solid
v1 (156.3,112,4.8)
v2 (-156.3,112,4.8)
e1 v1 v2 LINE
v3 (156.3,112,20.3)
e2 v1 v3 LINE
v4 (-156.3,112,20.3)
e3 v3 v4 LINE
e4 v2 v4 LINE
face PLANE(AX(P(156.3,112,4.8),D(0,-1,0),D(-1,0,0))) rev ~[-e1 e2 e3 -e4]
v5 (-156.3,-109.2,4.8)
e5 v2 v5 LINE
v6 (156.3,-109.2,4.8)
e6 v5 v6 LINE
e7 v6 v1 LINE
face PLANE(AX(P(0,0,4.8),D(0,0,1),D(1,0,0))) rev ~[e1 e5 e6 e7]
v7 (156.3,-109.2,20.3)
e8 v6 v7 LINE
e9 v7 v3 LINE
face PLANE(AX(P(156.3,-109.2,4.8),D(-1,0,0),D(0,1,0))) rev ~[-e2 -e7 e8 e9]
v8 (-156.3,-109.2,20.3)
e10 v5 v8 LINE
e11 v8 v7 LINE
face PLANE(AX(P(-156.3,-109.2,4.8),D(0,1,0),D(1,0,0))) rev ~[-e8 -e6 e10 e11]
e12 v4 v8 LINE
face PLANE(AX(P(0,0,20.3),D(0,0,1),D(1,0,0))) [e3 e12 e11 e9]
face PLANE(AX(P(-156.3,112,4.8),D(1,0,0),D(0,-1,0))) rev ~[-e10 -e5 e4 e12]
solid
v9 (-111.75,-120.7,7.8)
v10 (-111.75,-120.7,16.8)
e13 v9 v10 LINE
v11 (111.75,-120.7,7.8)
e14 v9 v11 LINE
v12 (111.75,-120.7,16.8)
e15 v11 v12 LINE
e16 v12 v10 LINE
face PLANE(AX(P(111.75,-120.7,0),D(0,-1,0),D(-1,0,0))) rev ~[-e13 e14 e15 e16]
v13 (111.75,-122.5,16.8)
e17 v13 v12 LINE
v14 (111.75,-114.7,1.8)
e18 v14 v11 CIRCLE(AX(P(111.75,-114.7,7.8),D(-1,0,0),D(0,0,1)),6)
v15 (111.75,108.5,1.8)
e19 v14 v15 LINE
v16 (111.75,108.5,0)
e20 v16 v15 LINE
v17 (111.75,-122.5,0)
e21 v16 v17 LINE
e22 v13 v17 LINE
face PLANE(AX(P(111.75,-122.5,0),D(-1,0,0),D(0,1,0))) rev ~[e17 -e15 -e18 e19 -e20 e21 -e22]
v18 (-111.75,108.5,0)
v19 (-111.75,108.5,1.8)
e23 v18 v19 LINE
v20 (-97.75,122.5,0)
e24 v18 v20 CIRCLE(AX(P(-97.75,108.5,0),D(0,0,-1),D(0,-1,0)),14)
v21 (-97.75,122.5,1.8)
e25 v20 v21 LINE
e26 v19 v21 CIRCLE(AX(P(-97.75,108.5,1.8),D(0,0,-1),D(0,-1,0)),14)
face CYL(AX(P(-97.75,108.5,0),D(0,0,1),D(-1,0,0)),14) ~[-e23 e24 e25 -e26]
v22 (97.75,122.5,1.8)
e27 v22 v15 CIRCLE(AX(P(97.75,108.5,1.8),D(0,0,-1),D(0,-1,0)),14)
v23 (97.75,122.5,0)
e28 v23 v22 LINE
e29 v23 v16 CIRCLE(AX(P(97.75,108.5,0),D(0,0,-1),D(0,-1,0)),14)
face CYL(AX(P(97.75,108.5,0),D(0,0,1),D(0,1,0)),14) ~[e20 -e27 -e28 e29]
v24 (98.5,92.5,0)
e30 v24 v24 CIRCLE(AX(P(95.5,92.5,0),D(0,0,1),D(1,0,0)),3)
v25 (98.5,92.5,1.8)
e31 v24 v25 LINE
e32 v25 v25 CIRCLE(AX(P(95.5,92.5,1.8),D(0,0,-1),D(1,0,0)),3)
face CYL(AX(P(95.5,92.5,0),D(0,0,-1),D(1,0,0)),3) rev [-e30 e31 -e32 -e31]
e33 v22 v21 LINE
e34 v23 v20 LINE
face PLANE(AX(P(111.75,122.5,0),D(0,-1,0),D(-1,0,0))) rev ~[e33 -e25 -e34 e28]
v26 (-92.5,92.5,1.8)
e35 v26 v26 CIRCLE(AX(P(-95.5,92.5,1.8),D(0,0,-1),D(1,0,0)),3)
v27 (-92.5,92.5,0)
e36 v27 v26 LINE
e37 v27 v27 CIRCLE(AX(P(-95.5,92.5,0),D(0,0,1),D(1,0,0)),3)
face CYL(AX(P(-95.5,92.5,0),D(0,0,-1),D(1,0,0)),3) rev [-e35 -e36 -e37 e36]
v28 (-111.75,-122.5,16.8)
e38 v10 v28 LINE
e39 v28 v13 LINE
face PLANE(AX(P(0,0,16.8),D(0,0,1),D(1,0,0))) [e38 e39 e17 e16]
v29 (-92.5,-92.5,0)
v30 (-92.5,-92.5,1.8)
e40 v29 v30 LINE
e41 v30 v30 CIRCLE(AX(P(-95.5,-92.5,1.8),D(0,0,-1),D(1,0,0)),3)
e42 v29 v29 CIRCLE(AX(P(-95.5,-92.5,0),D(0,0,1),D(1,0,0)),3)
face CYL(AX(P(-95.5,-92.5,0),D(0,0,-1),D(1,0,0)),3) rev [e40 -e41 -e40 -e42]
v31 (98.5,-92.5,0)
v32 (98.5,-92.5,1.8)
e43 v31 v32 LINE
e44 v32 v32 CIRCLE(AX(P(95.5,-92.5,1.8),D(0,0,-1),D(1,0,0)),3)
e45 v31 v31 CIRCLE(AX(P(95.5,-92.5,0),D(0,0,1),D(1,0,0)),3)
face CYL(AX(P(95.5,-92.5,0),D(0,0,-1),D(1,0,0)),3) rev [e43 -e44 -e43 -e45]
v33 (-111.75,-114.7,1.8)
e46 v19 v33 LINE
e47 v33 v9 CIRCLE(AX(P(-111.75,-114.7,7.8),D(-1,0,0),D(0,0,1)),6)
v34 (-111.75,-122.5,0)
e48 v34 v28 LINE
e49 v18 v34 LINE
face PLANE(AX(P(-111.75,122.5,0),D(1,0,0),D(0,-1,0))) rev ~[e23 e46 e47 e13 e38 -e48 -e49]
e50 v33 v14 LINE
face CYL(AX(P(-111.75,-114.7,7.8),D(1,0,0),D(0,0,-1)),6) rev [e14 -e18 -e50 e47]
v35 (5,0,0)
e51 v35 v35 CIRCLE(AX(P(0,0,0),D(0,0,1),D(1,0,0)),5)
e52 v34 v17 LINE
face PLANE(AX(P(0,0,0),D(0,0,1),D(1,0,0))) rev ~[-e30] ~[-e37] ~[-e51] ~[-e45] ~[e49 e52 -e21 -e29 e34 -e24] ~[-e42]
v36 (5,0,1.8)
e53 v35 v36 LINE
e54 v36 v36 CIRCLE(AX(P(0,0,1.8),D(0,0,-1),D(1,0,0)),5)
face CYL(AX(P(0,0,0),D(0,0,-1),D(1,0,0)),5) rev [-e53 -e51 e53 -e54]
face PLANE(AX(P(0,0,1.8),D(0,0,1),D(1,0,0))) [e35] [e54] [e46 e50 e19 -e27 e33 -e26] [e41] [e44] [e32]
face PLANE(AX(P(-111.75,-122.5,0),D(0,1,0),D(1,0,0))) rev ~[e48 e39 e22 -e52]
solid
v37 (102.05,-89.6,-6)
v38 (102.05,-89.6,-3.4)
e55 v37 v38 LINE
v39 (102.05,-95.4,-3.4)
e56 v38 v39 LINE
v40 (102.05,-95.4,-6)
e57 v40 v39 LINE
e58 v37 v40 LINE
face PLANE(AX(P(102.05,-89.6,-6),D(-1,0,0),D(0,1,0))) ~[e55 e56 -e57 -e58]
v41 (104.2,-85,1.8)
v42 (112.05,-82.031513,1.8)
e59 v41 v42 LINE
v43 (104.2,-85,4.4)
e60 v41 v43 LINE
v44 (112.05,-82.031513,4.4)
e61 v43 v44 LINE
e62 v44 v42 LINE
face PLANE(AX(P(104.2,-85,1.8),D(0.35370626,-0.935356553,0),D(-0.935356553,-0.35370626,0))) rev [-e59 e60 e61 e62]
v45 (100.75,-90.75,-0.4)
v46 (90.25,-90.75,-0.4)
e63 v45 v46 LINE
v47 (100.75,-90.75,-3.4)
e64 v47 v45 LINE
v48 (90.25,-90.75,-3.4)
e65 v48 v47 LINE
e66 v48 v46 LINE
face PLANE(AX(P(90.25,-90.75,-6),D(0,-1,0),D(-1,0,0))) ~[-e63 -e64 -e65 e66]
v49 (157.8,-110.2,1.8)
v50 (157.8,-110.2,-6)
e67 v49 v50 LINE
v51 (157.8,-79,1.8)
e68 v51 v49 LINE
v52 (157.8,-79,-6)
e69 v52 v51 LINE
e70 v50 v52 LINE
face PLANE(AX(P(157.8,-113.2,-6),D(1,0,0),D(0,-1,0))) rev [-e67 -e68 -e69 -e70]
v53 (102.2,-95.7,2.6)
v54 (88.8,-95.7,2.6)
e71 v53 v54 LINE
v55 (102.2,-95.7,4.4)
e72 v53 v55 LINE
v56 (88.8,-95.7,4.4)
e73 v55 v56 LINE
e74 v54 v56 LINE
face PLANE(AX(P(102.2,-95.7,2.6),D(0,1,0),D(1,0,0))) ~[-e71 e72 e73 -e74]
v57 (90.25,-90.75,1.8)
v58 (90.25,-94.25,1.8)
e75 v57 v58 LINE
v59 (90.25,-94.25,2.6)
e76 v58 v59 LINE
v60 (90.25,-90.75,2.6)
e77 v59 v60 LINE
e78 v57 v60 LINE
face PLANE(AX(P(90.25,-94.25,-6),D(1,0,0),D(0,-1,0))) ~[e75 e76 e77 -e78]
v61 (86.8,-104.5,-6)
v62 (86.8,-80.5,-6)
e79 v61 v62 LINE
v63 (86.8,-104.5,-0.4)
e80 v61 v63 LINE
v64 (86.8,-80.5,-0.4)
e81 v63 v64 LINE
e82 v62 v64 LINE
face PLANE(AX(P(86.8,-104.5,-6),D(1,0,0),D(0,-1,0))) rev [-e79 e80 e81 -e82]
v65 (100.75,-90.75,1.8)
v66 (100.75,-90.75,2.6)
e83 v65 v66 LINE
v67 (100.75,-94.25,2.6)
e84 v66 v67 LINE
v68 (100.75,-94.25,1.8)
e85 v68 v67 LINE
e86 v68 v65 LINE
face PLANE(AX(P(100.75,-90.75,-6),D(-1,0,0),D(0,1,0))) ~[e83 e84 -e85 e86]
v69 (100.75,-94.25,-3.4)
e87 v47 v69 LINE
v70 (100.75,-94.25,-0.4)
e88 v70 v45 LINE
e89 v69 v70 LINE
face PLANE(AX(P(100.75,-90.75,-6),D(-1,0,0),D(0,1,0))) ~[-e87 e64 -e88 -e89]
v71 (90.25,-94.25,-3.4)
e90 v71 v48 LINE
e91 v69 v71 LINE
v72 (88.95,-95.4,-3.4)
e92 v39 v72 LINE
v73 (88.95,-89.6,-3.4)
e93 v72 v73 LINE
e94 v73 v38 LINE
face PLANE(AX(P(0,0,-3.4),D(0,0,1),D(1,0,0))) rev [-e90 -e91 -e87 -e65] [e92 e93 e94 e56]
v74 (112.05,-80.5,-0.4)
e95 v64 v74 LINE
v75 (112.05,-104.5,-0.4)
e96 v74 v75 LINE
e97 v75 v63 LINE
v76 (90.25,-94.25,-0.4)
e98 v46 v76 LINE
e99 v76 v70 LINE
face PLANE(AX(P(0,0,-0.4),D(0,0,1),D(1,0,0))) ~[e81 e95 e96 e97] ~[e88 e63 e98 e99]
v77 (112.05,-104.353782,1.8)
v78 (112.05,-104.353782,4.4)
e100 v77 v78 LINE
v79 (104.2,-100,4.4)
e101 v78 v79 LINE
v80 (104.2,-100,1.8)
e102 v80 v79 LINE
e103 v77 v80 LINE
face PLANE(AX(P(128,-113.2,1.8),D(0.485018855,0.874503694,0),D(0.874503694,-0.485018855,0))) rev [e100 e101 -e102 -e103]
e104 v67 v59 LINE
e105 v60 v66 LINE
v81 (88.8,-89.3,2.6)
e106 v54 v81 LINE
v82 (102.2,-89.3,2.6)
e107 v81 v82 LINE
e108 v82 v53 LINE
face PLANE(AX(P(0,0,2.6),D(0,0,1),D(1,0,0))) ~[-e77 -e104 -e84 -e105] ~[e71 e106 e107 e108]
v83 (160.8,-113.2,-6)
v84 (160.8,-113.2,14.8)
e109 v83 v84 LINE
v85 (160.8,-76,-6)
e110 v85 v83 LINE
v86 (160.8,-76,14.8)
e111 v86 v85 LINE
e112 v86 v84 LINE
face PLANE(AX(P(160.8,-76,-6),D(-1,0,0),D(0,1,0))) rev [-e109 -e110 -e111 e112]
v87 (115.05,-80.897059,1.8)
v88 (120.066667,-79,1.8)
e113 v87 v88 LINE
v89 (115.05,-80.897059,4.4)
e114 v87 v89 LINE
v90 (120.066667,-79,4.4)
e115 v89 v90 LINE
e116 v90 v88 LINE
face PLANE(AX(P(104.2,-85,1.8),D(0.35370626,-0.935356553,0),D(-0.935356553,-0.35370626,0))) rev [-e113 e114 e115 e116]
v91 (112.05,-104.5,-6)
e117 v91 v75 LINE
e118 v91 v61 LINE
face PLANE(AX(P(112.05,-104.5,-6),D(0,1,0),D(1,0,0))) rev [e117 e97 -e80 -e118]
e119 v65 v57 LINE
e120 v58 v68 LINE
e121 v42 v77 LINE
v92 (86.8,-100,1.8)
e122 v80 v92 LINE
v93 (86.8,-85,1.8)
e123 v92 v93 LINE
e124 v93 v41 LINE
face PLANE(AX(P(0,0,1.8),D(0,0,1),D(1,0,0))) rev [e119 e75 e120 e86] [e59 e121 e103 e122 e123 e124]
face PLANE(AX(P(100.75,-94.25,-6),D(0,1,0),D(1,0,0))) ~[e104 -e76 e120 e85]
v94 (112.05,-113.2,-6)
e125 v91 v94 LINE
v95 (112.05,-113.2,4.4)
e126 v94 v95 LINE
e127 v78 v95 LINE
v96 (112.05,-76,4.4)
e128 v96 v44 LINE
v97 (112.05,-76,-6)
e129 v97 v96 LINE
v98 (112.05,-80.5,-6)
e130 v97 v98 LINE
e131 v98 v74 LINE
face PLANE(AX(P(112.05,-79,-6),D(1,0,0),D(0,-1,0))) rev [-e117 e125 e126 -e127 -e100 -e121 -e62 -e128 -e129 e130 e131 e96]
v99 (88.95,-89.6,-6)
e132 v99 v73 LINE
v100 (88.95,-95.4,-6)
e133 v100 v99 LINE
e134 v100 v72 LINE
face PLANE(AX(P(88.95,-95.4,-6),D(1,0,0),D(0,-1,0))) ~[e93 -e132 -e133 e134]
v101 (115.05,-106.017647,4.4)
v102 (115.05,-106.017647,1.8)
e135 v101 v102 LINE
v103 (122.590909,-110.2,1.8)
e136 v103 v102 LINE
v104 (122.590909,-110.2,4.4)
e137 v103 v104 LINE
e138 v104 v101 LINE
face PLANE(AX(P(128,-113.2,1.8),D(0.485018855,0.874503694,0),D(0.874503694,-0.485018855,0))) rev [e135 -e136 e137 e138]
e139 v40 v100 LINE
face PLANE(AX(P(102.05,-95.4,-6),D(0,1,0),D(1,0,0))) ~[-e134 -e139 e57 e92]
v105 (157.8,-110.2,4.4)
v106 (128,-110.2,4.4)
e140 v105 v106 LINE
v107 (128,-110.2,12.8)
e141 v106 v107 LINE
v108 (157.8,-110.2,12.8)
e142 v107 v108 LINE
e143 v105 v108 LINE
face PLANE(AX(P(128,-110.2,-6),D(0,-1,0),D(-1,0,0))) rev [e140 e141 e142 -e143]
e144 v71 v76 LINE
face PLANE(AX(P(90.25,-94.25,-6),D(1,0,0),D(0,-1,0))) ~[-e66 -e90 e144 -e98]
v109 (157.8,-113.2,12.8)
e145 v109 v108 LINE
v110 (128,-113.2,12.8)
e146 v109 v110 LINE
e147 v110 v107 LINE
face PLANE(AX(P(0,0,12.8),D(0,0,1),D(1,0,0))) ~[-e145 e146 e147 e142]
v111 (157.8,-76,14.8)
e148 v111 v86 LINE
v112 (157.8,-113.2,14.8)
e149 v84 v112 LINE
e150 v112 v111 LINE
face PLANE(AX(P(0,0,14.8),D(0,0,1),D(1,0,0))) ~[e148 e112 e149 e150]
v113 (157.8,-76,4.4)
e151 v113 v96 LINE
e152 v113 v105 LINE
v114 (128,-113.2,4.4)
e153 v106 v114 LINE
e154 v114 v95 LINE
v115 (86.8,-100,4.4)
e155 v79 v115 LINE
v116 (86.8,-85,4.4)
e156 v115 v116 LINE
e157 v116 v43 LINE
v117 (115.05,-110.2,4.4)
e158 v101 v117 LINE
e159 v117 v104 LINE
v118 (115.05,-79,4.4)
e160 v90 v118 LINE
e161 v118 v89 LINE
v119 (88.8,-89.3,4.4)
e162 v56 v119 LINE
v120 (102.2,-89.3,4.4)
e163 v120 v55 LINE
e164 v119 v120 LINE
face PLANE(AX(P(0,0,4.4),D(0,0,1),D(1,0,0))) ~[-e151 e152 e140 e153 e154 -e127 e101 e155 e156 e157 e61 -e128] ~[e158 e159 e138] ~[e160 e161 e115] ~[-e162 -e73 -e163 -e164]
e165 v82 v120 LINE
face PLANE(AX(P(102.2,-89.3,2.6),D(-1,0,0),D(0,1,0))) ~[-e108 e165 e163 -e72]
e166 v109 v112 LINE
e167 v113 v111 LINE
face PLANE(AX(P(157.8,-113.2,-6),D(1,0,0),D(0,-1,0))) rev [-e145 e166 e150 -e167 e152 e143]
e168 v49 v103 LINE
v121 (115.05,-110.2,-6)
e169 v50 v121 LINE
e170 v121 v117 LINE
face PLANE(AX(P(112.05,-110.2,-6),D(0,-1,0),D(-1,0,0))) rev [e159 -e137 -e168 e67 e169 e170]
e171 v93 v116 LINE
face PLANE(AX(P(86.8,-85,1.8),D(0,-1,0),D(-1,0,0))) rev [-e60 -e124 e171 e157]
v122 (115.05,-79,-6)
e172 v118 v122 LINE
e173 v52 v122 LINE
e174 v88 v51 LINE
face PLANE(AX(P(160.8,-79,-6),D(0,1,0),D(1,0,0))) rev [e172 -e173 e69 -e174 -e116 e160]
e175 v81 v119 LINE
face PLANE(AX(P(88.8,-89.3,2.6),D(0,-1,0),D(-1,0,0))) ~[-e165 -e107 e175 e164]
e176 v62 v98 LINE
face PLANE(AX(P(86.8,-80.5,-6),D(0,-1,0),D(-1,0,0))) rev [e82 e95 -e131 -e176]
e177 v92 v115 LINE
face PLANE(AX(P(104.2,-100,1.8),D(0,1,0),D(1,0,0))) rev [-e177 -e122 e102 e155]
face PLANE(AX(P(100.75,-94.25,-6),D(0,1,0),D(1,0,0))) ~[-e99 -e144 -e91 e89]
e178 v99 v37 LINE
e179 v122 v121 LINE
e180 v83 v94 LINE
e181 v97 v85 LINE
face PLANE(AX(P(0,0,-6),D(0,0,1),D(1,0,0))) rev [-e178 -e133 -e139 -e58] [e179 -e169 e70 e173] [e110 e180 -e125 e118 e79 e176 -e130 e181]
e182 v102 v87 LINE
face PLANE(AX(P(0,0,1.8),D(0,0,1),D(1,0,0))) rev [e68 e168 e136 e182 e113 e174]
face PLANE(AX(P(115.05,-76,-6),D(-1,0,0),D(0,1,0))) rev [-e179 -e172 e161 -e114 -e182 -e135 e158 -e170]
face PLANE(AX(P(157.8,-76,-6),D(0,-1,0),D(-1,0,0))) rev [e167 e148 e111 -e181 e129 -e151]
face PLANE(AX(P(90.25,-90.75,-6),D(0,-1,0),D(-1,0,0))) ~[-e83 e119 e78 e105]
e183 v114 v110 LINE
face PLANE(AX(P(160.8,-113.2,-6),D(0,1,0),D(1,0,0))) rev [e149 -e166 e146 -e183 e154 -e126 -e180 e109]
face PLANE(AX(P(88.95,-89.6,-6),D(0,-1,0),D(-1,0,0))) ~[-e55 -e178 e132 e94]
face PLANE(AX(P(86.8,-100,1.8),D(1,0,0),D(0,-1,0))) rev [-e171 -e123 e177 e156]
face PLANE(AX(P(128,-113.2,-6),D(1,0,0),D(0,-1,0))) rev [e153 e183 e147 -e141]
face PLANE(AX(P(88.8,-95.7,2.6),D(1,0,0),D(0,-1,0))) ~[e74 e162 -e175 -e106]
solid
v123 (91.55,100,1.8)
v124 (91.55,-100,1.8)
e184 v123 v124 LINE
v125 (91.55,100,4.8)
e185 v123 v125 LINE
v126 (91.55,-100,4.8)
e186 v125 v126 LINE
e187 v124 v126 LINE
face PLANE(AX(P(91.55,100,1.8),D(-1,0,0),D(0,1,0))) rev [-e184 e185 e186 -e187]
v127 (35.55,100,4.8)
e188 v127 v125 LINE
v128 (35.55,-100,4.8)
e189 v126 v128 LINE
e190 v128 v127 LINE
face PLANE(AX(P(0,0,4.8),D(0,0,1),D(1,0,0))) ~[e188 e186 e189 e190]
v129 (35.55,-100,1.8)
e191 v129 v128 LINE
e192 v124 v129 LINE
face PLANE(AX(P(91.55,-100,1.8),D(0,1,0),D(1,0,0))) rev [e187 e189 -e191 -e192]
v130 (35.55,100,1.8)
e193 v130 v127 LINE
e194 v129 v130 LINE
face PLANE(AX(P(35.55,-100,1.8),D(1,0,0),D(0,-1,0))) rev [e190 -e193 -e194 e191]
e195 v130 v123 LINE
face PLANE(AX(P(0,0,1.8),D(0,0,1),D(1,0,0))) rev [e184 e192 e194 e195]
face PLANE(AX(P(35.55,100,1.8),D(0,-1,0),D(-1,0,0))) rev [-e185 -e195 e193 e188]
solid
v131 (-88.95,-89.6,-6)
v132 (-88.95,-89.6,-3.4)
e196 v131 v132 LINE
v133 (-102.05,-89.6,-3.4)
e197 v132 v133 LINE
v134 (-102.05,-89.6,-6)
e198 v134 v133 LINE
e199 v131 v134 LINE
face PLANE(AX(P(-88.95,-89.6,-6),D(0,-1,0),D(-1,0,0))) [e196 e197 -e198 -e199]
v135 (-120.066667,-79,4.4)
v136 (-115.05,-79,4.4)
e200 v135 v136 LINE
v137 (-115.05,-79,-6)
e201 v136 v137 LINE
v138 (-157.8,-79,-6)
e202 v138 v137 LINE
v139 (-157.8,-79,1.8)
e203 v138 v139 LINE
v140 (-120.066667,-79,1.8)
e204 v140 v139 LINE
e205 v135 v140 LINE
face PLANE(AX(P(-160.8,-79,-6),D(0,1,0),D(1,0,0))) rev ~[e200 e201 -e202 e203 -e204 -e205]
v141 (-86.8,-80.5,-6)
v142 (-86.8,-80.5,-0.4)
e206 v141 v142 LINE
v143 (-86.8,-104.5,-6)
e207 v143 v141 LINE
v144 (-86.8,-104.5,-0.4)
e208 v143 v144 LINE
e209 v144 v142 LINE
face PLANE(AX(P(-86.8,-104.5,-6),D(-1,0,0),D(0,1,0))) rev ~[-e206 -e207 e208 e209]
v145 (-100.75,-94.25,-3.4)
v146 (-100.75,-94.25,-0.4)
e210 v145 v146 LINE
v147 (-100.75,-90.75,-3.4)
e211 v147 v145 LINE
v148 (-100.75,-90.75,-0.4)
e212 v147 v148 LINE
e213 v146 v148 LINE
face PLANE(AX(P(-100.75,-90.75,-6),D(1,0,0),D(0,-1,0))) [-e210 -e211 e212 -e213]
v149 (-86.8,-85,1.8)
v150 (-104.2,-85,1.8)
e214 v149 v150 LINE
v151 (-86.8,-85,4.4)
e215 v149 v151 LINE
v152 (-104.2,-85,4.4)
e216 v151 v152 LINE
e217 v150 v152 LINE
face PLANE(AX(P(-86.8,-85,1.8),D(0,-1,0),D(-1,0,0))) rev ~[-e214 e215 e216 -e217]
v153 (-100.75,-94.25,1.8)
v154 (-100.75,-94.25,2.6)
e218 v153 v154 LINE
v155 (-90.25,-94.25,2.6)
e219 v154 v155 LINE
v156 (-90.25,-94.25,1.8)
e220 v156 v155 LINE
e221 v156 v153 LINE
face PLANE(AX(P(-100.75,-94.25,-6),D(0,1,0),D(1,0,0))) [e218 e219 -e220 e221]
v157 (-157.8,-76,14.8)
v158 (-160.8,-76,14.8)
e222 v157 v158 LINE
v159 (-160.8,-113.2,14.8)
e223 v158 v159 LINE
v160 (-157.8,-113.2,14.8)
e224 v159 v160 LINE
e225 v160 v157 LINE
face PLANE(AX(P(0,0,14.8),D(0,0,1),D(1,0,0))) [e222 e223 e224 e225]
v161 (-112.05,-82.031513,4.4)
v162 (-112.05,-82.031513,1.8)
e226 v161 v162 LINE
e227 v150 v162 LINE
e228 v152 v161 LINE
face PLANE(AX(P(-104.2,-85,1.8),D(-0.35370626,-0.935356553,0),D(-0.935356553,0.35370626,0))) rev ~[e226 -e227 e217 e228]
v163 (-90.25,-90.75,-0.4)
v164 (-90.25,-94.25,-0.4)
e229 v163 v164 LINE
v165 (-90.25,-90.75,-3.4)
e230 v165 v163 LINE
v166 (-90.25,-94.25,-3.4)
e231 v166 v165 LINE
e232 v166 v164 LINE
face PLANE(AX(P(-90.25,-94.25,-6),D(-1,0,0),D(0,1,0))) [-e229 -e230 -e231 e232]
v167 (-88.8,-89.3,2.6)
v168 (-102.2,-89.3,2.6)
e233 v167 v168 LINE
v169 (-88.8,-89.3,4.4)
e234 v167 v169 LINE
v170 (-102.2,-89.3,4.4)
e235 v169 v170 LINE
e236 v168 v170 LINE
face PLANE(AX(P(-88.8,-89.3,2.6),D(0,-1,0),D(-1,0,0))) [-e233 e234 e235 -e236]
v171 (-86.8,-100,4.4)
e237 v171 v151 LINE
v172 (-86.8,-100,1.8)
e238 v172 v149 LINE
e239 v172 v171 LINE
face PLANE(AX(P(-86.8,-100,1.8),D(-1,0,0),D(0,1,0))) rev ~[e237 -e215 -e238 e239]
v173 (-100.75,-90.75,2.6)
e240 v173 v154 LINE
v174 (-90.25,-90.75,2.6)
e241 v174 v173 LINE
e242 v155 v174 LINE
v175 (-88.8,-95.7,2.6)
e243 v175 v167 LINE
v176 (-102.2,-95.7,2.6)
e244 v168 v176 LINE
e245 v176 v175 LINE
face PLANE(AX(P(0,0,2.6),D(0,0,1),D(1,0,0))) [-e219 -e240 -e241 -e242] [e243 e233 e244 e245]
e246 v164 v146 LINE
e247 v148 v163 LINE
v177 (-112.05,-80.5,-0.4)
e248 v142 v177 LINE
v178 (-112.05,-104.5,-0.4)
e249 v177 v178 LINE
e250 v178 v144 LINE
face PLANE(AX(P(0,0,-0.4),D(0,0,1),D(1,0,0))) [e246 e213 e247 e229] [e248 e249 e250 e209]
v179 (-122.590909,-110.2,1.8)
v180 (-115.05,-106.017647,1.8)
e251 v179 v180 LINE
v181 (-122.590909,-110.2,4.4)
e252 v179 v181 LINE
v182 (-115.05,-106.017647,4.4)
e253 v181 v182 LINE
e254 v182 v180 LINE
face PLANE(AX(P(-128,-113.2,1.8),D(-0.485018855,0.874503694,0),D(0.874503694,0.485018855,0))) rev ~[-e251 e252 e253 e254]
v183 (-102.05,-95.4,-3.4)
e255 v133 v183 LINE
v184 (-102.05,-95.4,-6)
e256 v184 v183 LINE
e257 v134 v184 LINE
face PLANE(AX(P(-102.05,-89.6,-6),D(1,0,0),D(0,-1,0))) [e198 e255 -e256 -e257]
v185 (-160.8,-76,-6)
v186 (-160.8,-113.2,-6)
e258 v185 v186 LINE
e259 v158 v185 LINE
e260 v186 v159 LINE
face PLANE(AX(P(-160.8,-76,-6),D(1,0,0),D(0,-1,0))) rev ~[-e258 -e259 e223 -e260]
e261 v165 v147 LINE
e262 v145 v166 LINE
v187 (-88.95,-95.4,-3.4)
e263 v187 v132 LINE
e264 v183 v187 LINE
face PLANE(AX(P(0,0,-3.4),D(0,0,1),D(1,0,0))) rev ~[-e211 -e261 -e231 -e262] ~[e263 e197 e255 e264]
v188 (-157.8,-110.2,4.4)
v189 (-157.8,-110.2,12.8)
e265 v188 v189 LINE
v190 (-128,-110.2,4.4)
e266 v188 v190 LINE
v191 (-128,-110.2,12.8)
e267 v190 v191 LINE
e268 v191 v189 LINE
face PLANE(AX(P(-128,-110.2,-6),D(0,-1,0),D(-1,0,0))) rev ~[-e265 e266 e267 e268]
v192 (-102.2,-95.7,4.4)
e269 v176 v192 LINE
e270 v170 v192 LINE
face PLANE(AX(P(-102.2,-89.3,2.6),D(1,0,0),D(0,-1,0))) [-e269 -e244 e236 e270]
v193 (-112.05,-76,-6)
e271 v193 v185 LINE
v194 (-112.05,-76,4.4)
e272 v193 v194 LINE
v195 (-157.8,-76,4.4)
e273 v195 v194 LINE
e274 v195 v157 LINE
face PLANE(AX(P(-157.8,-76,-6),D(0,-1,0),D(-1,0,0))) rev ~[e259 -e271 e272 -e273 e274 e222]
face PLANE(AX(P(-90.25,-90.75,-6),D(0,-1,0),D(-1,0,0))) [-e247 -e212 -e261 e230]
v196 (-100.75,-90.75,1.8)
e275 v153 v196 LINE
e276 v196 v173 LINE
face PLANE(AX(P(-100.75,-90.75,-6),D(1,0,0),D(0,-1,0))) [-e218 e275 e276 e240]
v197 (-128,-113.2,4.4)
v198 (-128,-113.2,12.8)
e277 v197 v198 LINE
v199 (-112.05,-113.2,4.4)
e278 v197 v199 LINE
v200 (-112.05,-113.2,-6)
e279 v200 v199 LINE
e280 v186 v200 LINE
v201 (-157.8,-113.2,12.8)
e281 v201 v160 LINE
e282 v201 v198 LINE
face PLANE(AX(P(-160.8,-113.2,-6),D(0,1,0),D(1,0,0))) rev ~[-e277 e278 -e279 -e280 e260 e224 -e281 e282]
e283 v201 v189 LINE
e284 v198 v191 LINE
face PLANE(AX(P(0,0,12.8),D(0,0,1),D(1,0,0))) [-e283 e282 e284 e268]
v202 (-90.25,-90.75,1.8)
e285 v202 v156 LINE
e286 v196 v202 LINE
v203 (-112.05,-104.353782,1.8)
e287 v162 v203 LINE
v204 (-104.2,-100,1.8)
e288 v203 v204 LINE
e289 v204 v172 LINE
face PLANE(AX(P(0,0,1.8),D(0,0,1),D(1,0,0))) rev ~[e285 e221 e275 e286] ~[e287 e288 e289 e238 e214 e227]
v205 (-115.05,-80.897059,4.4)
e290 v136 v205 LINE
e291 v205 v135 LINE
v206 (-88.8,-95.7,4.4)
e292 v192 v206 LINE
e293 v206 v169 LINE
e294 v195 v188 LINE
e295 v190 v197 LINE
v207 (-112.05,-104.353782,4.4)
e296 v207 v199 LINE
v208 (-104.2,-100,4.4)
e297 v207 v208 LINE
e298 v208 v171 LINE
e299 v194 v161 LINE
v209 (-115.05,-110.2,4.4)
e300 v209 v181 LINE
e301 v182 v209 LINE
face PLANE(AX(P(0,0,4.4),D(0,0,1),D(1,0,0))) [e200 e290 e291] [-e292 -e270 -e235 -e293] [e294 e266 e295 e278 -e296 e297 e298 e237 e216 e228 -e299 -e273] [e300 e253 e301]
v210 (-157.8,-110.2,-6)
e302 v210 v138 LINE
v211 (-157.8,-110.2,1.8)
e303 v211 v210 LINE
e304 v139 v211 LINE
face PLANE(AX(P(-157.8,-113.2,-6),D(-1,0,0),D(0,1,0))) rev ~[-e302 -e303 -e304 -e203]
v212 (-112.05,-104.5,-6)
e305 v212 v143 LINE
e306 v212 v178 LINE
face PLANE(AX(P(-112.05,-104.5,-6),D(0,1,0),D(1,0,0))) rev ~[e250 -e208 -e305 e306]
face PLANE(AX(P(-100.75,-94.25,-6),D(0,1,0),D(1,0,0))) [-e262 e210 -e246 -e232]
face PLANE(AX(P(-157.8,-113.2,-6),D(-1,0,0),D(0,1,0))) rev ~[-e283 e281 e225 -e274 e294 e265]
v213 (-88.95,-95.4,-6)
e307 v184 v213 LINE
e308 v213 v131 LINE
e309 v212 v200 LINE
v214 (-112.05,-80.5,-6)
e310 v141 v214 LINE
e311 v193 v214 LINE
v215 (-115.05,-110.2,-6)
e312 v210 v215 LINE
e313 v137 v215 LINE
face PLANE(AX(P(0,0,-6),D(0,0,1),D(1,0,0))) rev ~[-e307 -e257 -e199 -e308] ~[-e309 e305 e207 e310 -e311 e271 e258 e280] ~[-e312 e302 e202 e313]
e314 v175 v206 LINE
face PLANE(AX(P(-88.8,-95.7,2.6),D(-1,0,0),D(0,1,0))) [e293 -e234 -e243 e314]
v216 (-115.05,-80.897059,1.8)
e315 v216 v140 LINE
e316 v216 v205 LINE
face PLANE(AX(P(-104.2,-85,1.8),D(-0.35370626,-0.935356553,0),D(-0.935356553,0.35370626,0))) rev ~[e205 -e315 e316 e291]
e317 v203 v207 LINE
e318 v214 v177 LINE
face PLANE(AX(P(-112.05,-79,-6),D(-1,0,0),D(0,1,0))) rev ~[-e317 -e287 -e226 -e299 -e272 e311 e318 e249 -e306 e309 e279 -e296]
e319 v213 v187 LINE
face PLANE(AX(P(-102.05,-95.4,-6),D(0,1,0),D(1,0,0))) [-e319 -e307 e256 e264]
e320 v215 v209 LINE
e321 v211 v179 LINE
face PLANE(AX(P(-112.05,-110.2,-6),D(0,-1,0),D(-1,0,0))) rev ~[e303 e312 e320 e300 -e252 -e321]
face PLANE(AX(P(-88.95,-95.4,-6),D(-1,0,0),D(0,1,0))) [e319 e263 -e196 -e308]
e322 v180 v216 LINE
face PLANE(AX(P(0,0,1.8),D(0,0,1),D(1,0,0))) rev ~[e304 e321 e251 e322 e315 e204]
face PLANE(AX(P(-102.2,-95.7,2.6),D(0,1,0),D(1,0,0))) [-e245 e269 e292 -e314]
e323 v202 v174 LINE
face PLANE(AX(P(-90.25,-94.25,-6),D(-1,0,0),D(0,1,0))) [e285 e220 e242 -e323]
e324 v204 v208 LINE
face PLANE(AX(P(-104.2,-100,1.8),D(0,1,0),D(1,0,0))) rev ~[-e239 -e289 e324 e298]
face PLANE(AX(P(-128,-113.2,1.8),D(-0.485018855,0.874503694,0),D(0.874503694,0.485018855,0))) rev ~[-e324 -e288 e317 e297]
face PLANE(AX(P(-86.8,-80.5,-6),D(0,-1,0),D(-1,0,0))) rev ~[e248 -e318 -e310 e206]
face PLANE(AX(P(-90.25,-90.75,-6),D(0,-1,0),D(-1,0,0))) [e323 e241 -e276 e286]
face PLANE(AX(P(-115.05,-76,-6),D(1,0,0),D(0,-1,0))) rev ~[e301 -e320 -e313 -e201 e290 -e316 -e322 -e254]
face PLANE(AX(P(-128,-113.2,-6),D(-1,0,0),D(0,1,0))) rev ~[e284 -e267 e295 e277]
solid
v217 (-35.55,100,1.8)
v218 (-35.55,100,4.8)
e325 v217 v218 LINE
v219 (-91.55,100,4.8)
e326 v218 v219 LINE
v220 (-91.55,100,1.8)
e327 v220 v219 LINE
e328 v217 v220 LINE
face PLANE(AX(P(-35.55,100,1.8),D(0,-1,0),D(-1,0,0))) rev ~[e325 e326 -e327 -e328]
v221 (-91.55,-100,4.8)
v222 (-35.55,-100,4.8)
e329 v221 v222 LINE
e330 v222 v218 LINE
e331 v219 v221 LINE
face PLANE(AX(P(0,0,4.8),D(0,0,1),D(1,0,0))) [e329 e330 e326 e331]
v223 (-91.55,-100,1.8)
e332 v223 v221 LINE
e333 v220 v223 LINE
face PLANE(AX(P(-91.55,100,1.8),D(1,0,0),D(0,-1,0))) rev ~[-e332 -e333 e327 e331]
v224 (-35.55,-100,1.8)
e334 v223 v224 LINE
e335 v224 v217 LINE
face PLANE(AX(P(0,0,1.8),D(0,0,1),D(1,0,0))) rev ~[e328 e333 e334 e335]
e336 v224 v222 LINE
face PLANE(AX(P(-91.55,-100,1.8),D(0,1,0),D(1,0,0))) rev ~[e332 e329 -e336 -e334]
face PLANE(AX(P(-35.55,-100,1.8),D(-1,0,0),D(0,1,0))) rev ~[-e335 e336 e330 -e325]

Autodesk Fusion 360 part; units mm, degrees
sketch "sk REF plate sheet" plane through (0, 0, 0) normal (0, 0, 1) x (1, 0, 0)
  line L0 (-111.75, -122.5) -> (111.75, -122.5)
  line L1 (111.75, -122.5) -> (111.75, 122.5)
  line L2 (111.75, 122.5) -> (-111.75, 122.5)
  line L3 (-111.75, 122.5) -> (-111.75, -122.5)
  dimension "d100" = 111.75
  dimension "d101" = 122.5
  dimension "d102" = 111.75
  dimension "d103" = 122.5
extrude "REF plate sheet" add sketch "sk REF plate sheet" along normal blind 1.8 makes body 1
sketch "sk REF plate lip" plane through (0, 0, 0) normal (0, 0, 1) x (1, 0, 0)
  line L0 (-111.75, -122.5) -> (111.75, -122.5)
  line L1 (111.75, -122.5) -> (111.75, -120.7)
  line L2 (111.75, -120.7) -> (-111.75, -120.7)
  line L3 (-111.75, -120.7) -> (-111.75, -122.5)
  dimension "d107" = 111.75
  dimension "d108" = 122.5
  dimension "d109" = 111.75
  dimension "d110" = 120.7
extrude "REF plate lip" add sketch "sk REF plate lip" along normal blind 16.8 bodies 1
fillet "REF plate rear corners" radius 14 2 edges at (111.75, 122.5, 0.9) (-111.75, 122.5, 0.9) on bodies 1
fillet "REF plate lip bend" radius 6 1 edges at (0, -120.7, 1.8) on bodies 1
sketch "sk REF plate holes" plane through (0, 0, 0) normal (0, 0, 1) x (1, 0, 0)
  circle A0 centre (-95.5, -92.5) radius 3
  circle A1 centre (95.5, -92.5) radius 3
  line L0 (-95.5, -92.5) -> (95.5, -92.5) construction
  circle A2 centre (-95.5, 92.5) radius 3
  line L1 (-95.5, -92.5) -> (-95.5, 92.5) construction
  circle A3 centre (95.5, 92.5) radius 3
  line L2 (-95.5, 92.5) -> (95.5, 92.5) construction
  line L3 (95.5, -92.5) -> (95.5, 92.5) construction
  circle A4 centre (0, 0) radius 5
  dimension "d118" = 3
  dimension "d119" = 95.5
  dimension "d120" = 92.5
  dimension "d121" = 191
  dimension "d122" = 185
  dimension "d123" = 5
extrude "REF plate holes" cut sketch "sk REF plate holes" along normal blind 16.8 bodies 1
sketch "sk REF soft pad strip" plane through (0, 0, 0) normal (0, 0, 1) x (1, 0, 0)
  line L0 (-91.55, -100) -> (-35.55, -100)
  line L1 (-35.55, -100) -> (-35.55, 100)
  line L2 (-35.55, 100) -> (-91.55, 100)
  line L3 (-91.55, 100) -> (-91.55, -100)
  dimension "d127" = 91.55
  dimension "d128" = 100
  dimension "d129" = 35.55
  dimension "d130" = 100
extrude "REF soft pad strip" add sketch "sk REF soft pad strip" along normal blind 3 from surface at 1.8 separate body makes body 2
mirror "REF soft pad mirror" about plane through (0, 0, 0) normal (1, 0, 0) of bodies 2 makes body 3
sketch "sk 1 tongue over plate" plane through (0, 0, 0) normal (0, 0, 1) x (1, 0, 0)
  line L0 (-160.8, -113.2) -> (-128, -113.2)
  line L1 (-128, -113.2) -> (-104.2, -100)
  line L2 (-104.2, -100) -> (-86.8, -100)
  line L3 (-86.8, -100) -> (-86.8, -85)
  line L4 (-86.8, -85) -> (-104.2, -85)
  line L5 (-104.2, -85) -> (-128, -76)
  line L6 (-128, -76) -> (-160.8, -76)
  line L7 (-160.8, -76) -> (-160.8, -113.2)
  line L8 (-128, -113.2) -> (-128, -76) construction
  line L9 (-104.2, -100) -> (-104.2, -85) construction
  dimension "d136" = 160.8
  dimension "d137" = 128
  dimension "d138" = 104.2
  dimension "d139" = 86.8
  dimension "d140" = 113.2
  dimension "d141" = 100
  dimension "d142" = 85
  dimension "d143" = 76
extrude "1 tongue over plate" add sketch "sk 1 tongue over plate" along normal blind 2.6 from surface at 1.8 separate body makes body 4
sketch "sk 2 rib along front" plane through (0, 0, 0) normal (0, 0, 1) x (1, 0, 0)
  line L0 (-160.8, -113.2) -> (-112.05, -113.2)
  line L1 (-112.05, -113.2) -> (-112.05, -110.2)
  line L2 (-112.05, -110.2) -> (-160.8, -110.2)
  line L3 (-160.8, -110.2) -> (-160.8, -113.2)
  dimension "d147" = 160.8
  dimension "d148" = 113.2
  dimension "d149" = 112.05
  dimension "d150" = 110.2
extrude "2 rib along front" add sketch "sk 2 rib along front" along normal blind 10.4 from surface at -6 bodies 4
sketch "sk 3 rib along back" plane through (0, 0, 0) normal (0, 0, 1) x (1, 0, 0)
  line L0 (-160.8, -79) -> (-112.05, -79)
  line L1 (-112.05, -79) -> (-112.05, -76)
  line L2 (-112.05, -76) -> (-160.8, -76)
  line L3 (-160.8, -76) -> (-160.8, -79)
  dimension "d154" = 160.8
  dimension "d155" = 79
  dimension "d156" = 112.05
  dimension "d157" = 76
extrude "3 rib along back" add sketch "sk 3 rib along back" along normal blind 10.4 from surface at -6 bodies 4
sketch "sk 4 rib at plate edge is back of C" plane through (0, 0, 0) normal (0, 0, 1) x (1, 0, 0)
  line L0 (-115.05, -113.2) -> (-112.05, -113.2)
  line L1 (-112.05, -113.2) -> (-112.05, -76)
  line L2 (-112.05, -76) -> (-115.05, -76)
  line L3 (-115.05, -76) -> (-115.05, -113.2)
  dimension "d161" = 115.05
  dimension "d162" = 113.2
  dimension "d163" = 112.05
  dimension "d164" = 76
extrude "4 rib at plate edge is back of C" add sketch "sk 4 rib at plate edge is back of C" along normal blind 10.4 from surface at -6 bodies 4
sketch "sk 5 flange under plate" plane through (0, 0, 0) normal (0, 0, 1) x (1, 0, 0)
  line L0 (-112.05, -104.5) -> (-86.8, -104.5)
  line L1 (-86.8, -104.5) -> (-86.8, -80.5)
  line L2 (-86.8, -80.5) -> (-112.05, -80.5)
  line L3 (-112.05, -80.5) -> (-112.05, -104.5)
  dimension "d168" = 112.05
  dimension "d169" = 104.5
  dimension "d170" = 86.8
  dimension "d171" = 80.5
extrude "5 flange under plate" add sketch "sk 5 flange under plate" along normal blind 5.6 from surface at -6 bodies 4
sketch "sk 6 side wall is left-right stop" plane through (0, 0, 0) normal (0, 0, 1) x (1, 0, 0)
  line L0 (-160.8, -113.2) -> (-157.8, -113.2)
  line L1 (-157.8, -113.2) -> (-157.8, -76)
  line L2 (-157.8, -76) -> (-160.8, -76)
  line L3 (-160.8, -76) -> (-160.8, -113.2)
  dimension "d175" = 160.8
  dimension "d176" = 113.2
  dimension "d177" = 157.8
  dimension "d178" = 76
extrude "6 side wall is left-right stop" add sketch "sk 6 side wall is left-right stop" along normal blind 20.8 from surface at -6 bodies 4
sketch "sk 7 front wall is fore-aft stop" plane through (0, 0, 0) normal (0, 0, 1) x (1, 0, 0)
  line L0 (-160.8, -113.2) -> (-128, -113.2)
  line L1 (-128, -113.2) -> (-128, -110.2)
  line L2 (-128, -110.2) -> (-160.8, -110.2)
  line L3 (-160.8, -110.2) -> (-160.8, -113.2)
  dimension "d182" = 160.8
  dimension "d183" = 113.2
  dimension "d184" = 128
  dimension "d185" = 110.2
extrude "7 front wall is fore-aft stop" add sketch "sk 7 front wall is fore-aft stop" along normal blind 18.8 from surface at -6 bodies 4
sketch "sk 8 M3 screw slot" plane through (0, 0, 0) normal (0, 0, 1) x (1, 0, 0)
  line L0 (-100.75, -94.25) -> (-90.25, -94.25)
  line L1 (-90.25, -94.25) -> (-90.25, -90.75)
  line L2 (-90.25, -90.75) -> (-100.75, -90.75)
  line L3 (-100.75, -90.75) -> (-100.75, -94.25)
  dimension "d189" = 100.75
  dimension "d190" = 94.25
  dimension "d191" = 90.25
  dimension "d192" = 90.75
extrude "8 M3 screw slot" cut sketch "sk 8 M3 screw slot" along normal blind 10.4 from surface at -6 bodies 4
sketch "sk 9 M3 head counterbore" plane through (0, 0, 0) normal (0, 0, 1) x (1, 0, 0)
  line L0 (-102.2, -95.7) -> (-88.8, -95.7)
  line L1 (-88.8, -95.7) -> (-88.8, -89.3)
  line L2 (-88.8, -89.3) -> (-102.2, -89.3)
  line L3 (-102.2, -89.3) -> (-102.2, -95.7)
  dimension "d196" = 102.2
  dimension "d197" = 95.7
  dimension "d198" = 88.8
  dimension "d199" = 89.3
extrude "9 M3 head counterbore" cut sketch "sk 9 M3 head counterbore" along normal blind 1.8 from surface at 2.6 bodies 4
sketch "sk 10 M3 nut channel" plane through (0, 0, 0) normal (0, 0, 1) x (1, 0, 0)
  line L0 (-102.05, -95.4) -> (-88.95, -95.4)
  line L1 (-88.95, -95.4) -> (-88.95, -89.6)
  line L2 (-88.95, -89.6) -> (-102.05, -89.6)
  line L3 (-102.05, -89.6) -> (-102.05, -95.4)
  dimension "d203" = 102.05
  dimension "d204" = 95.4
  dimension "d205" = 88.95
  dimension "d206" = 89.6
extrude "10 M3 nut channel" cut sketch "sk 10 M3 nut channel" along normal blind 2.6 from surface at -6 bodies 4
mirror "11 mirror to right side" about plane through (0, 0, 0) normal (1, 0, 0) of bodies 4 makes body 5
sketch "sk REF MacBook Pro 14 envelope" plane through (0, 0, 0) normal (0, 0, 1) x (1, 0, 0)
  line L0 (-156.3, -109.2) -> (156.3, -109.2)
  line L1 (156.3, -109.2) -> (156.3, 112)
  line L2 (156.3, 112) -> (-156.3, 112)
  line L3 (-156.3, 112) -> (-156.3, -109.2)
  dimension "d212" = 156.3
  dimension "d213" = 109.2
  dimension "d214" = 156.3
  dimension "d215" = 112
extrude "REF MacBook Pro 14 envelope" add sketch "sk REF MacBook Pro 14 envelope" along normal blind 15.5 from surface at 4.8 separate body makes body 6
equation "plate_width = 223.5 mm" comment "[EST] left-right; the lip runs along this edge"
equation "plate_depth = 245 mm" comment "[EST] front-back"
equation "plate_thickness = 1.8 mm" comment "[EST] sheet gauge"
equation "plate_rear_corner_radius = 14 mm" comment "[EST] rear corners only; lip corners are square"
equation "lip_height_above_plate = 15 mm" comment "[EST] flat height above the plate top face"
equation "lip_bend_radius = 6 mm" comment "MEASURED inside radius, vertical section"
equation "hole_diameter = 6 mm" comment "[EST]"
equation "hole_spacing_left_right = 191 mm" comment "[EST] centre-to-centre across the plate"
equation "hole_spacing_front_back = 185 mm" comment "[EST] centre-to-centre along the plate"
equation "centre_boss_diameter = 10 mm" comment "nominal, the M8 tilt-screw slot"
equation "softpad_thickness = 3 mm" comment "[EST] governs the whole bracket section"
equation "softpad_outer_edge_inset = 20.2 mm" comment "[EST] strip outer edge, in from the plate side edge"
equation "softpad_strip_width = 56 mm" comment "[EST] X width of each strip"
equation "softpad_strip_length = 200 mm" comment "[EST] Y length of each strip"
equation "laptop_width = 312.6 mm" comment "MEASURED Apple spec, 14in MacBook Pro"
equation "laptop_depth = 221.2 mm" comment "MEASURED"
equation "laptop_height = 15.5 mm" comment "MEASURED"
equation "screw_clearance_radius = 1.75 mm" comment "M3 shank clearance"
equation "screw_head_radius = 3.2 mm" comment "M3 button head is 5.7 dia"
equation "screw_head_height = 1.8 mm" comment "counterbore depth"
equation "screw_slot_travel = 3.5 mm" comment "+/- along X; absorbs hole-spacing error"
equation "nut_across_flats = 5.5 mm" comment "M3"
equation "nut_thickness = 2.4 mm"
equation "nut_pocket_clearance = 0.3 mm" comment "so the nut drops in but cannot rotate"
equation "nut_pocket_extra_depth = 0.2 mm"
equation "laptop_side_clearance = 1.5 mm" comment "per side, laptop edge to wall"
equation "laptop_front_clearance = 1 mm" comment "laptop nose to front wall"
equation "tongue_clearance = 0.4 mm" comment "tongue sits this far below the laptop"
equation "wall_thickness = 3 mm"
equation "side_wall_height = 10 mm" comment "above the laptop underside"
equation "front_wall_height = 8 mm" comment "lower: it is nearer the lid edge"
equation "front_wall_length = 32.8 mm" comment "how far along X the front wall runs"
equation "lip_bend_clearance = 1.5 mm" comment "keep the front wall off the bend radius"
equation "plate_edge_clearance = 0.3 mm" comment "slip fit against the plate outer edge"
equation "rib_depth_below_plate = 6 mm" comment "how far the whole underside hangs down"
equation "rib_thickness = 3 mm"
equation "boss_wall = 2 mm" comment "material around the counterbore"
equation "bracket_depth_behind_hole = 16.5 mm" comment "back edge of the corner block"
equation "boss_half_depth = 7.5 mm" comment "Y half-height of the bolt boss"
equation "plate_grip_clearance = 0.4 mm" comment "gap under the plate before the flange bears"
equation "flange_width = 24 mm" comment "lower flange, the other half of the C"
equation "plate_half_width = plate_width / 2"
equation "plate_half_depth = plate_depth / 2"
equation "plate_edge_x = plate_half_width + plate_edge_clearance" comment "bracket sits just outside this"
equation "lip_top_z = plate_thickness + lip_height_above_plate"
equation "lip_inner_y = plate_half_depth - plate_thickness" comment "lip inner face"
equation "plate_flat_front_y = lip_inner_y - lip_bend_radius" comment "plate top is flat only behind this"
equation "hole_x = hole_spacing_left_right / 2"
equation "hole_front_y = hole_spacing_front_back / 2" comment "the lip-side holes -- the ones used"
equation "hole_radius = hole_diameter / 2"
equation "centre_boss_radius = centre_boss_diameter / 2"
equation "softpad_outer_x = plate_half_width - softpad_outer_edge_inset"
equation "softpad_inner_x = softpad_outer_x - softpad_strip_width"
equation "softpad_half_length = softpad_strip_length / 2"
equation "tongue_thickness = softpad_thickness - tongue_clearance" comment "only material under the laptop"
equation "tongue_top_z = plate_thickness + tongue_thickness"
equation "laptop_underside_z = plate_thickness + softpad_thickness" comment "laptop rests on the stock pads"
equation "flange_top_z = plate_grip_clearance" comment "below Z0"
equation "flange_bottom_z = rib_depth_below_plate" comment "below Z0"
equation "flange_thickness = rib_depth_below_plate - plate_grip_clearance"
equation "throat_height = plate_thickness + plate_grip_clearance" comment "the C throat"
equation "counterbore_floor = tongue_thickness - screw_head_height" comment "CHECK keep above 0.8"
equation "nut_pocket_depth = nut_thickness + nut_pocket_extra_depth"
equation "nut_pocket_floor = flange_thickness - nut_pocket_depth" comment "CHECK keep above 1.5"
equation "front_wall_outer_y = plate_flat_front_y - lip_bend_clearance"
equation "front_wall_inner_y = front_wall_outer_y - wall_thickness"
equation "laptop_front_y = front_wall_inner_y - laptop_front_clearance"
equation "laptop_rear_y = laptop_depth - laptop_front_y" comment "signed +Y"
equation "laptop_half_width = laptop_width / 2"
equation "lip_to_laptop_gap = lip_inner_y - laptop_front_y" comment "CHECK keep above 6"
equation "rear_margin = plate_half_depth - laptop_rear_y" comment "CHECK keep above 5"
equation "side_wall_inner_x = laptop_half_width + laptop_side_clearance"
equation "side_wall_outer_x = side_wall_inner_x + wall_thickness"
equation "cantilever = side_wall_outer_x - plate_half_width" comment "unsupported reach"
equation "bracket_back_y = hole_front_y - bracket_depth_behind_hole"
equation "rib_back_outer_y = bracket_back_y + rib_thickness"
equation "rib_edge_outer_x = plate_edge_x + rib_thickness"
equation "front_wall_end_x = side_wall_outer_x - front_wall_length"
equation "boss_outer_x = hole_x + screw_slot_travel + screw_head_radius + boss_wall"
equation "boss_inner_x = hole_x - screw_slot_travel - screw_head_radius - boss_wall"
equation "boss_front_y = hole_front_y + boss_half_depth"
equation "boss_back_y = hole_front_y - boss_half_depth"
equation "boss_pad_overlap = softpad_outer_x - boss_inner_x" comment "CHECK above 0 = boss sits on the pad"
equation "flange_front_y = hole_front_y + flange_width / 2"
equation "flange_back_y = hole_front_y - flange_width / 2"
equation "slot_outer_x = hole_x + screw_slot_travel + screw_clearance_radius"
equation "slot_inner_x = hole_x - screw_slot_travel - screw_clearance_radius"
equation "slot_front_y = hole_front_y + screw_clearance_radius"
equation "slot_back_y = hole_front_y - screw_clearance_radius"
equation "cbore_outer_x = hole_x + screw_slot_travel + screw_head_radius"
equation "cbore_inner_x = hole_x - screw_slot_travel - screw_head_radius"
equation "cbore_front_y = hole_front_y + screw_head_radius"
equation "cbore_back_y = hole_front_y - screw_head_radius"
equation "nut_pocket_x_half = screw_slot_travel + nut_across_flats / 2 + nut_pocket_clearance"
equation "nut_pocket_y_half = ( nut_across_flats + nut_pocket_clearance ) / 2"
equation "nut_pocket_outer_x = hole_x + nut_pocket_x_half"
equation "nut_pocket_inner_x = hole_x - nut_pocket_x_half"
equation "nut_pocket_front_y = hole_front_y + nut_pocket_y_half"
equation "nut_pocket_back_y = hole_front_y - nut_pocket_y_half"
equation "d100 = plate_half_width"
equation "d101 = plate_half_depth"
equation "d102 = plate_half_width"
equation "d103 = plate_half_depth"
equation "d105 = plate_thickness"
equation "d107 = plate_half_width"
equation "d108 = plate_half_depth"
equation "d109 = plate_half_width"
equation "d110 = lip_inner_y"
equation "d112 = lip_top_z"
equation "d115 = plate_rear_corner_radius"
equation "d117 = lip_bend_radius"
equation "d118 = hole_radius"
equation "d119 = hole_x"
equation "d120 = hole_front_y"
equation "d121 = hole_spacing_left_right"
equation "d122 = hole_spacing_front_back"
equation "d123 = centre_boss_radius"
equation "d125 = lip_top_z"
equation "d127 = softpad_outer_x"
equation "d128 = softpad_half_length"
equation "d129 = softpad_inner_x"
equation "d130 = softpad_half_length"
equation "d131 = plate_thickness"
equation "d132 = softpad_thickness"
equation "d136 = side_wall_outer_x"
equation "d137 = front_wall_end_x"
equation "d138 = boss_outer_x"
equation "d139 = boss_inner_x"
equation "d140 = front_wall_outer_y"
equation "d141 = boss_front_y"
equation "d142 = boss_back_y"
equation "d143 = bracket_back_y"
equation "d144 = plate_thickness"
equation "d145 = tongue_thickness"
equation "d147 = side_wall_outer_x"
equation "d148 = front_wall_outer_y"
equation "d149 = plate_edge_x"
equation "d150 = front_wall_inner_y"
equation "d151 = -rib_depth_below_plate"
equation "d152 = tongue_top_z + rib_depth_below_plate"
equation "d154 = side_wall_outer_x"
equation "d155 = rib_back_outer_y"
equation "d156 = plate_edge_x"
equation "d157 = bracket_back_y"
equation "d158 = -rib_depth_below_plate"
equation "d159 = tongue_top_z + rib_depth_below_plate"
equation "d161 = rib_edge_outer_x"
equation "d162 = front_wall_outer_y"
equation "d163 = plate_edge_x"
equation "d164 = bracket_back_y"
equation "d165 = -rib_depth_below_plate"
equation "d166 = tongue_top_z + rib_depth_below_plate"
equation "d168 = plate_edge_x"
equation "d169 = flange_front_y"
equation "d170 = boss_inner_x"
equation "d171 = flange_back_y"
equation "d172 = -flange_bottom_z"
equation "d173 = flange_thickness"
equation "d175 = side_wall_outer_x"
equation "d176 = front_wall_outer_y"
equation "d177 = side_wall_inner_x"
equation "d178 = bracket_back_y"
equation "d179 = -rib_depth_below_plate"
equation "d180 = rib_depth_below_plate + laptop_underside_z + side_wall_height"
equation "d182 = side_wall_outer_x"
equation "d183 = front_wall_outer_y"
equation "d184 = front_wall_end_x"
equation "d185 = front_wall_inner_y"
equation "d186 = -rib_depth_below_plate"
equation "d187 = rib_depth_below_plate + laptop_underside_z + front_wall_height"
equation "d189 = slot_outer_x"
equation "d190 = slot_front_y"
equation "d191 = slot_inner_x"
equation "d192 = slot_back_y"
equation "d193 = -flange_bottom_z"
equation "d194 = flange_bottom_z + tongue_top_z"
equation "d196 = cbore_outer_x"
equation "d197 = cbore_front_y"
equation "d198 = cbore_inner_x"
equation "d199 = cbore_back_y"
equation "d200 = tongue_top_z - screw_head_height"
equation "d201 = screw_head_height"
equation "d203 = nut_pocket_outer_x"
equation "d204 = nut_pocket_front_y"
equation "d205 = nut_pocket_inner_x"
equation "d206 = nut_pocket_back_y"
equation "d207 = -flange_bottom_z"
equation "d208 = nut_pocket_depth"
equation "d212 = laptop_half_width"
equation "d213 = laptop_front_y"
equation "d214 = laptop_half_width"
equation "d215 = laptop_rear_y"
equation "d216 = laptop_underside_z"
equation "d217 = laptop_height"
